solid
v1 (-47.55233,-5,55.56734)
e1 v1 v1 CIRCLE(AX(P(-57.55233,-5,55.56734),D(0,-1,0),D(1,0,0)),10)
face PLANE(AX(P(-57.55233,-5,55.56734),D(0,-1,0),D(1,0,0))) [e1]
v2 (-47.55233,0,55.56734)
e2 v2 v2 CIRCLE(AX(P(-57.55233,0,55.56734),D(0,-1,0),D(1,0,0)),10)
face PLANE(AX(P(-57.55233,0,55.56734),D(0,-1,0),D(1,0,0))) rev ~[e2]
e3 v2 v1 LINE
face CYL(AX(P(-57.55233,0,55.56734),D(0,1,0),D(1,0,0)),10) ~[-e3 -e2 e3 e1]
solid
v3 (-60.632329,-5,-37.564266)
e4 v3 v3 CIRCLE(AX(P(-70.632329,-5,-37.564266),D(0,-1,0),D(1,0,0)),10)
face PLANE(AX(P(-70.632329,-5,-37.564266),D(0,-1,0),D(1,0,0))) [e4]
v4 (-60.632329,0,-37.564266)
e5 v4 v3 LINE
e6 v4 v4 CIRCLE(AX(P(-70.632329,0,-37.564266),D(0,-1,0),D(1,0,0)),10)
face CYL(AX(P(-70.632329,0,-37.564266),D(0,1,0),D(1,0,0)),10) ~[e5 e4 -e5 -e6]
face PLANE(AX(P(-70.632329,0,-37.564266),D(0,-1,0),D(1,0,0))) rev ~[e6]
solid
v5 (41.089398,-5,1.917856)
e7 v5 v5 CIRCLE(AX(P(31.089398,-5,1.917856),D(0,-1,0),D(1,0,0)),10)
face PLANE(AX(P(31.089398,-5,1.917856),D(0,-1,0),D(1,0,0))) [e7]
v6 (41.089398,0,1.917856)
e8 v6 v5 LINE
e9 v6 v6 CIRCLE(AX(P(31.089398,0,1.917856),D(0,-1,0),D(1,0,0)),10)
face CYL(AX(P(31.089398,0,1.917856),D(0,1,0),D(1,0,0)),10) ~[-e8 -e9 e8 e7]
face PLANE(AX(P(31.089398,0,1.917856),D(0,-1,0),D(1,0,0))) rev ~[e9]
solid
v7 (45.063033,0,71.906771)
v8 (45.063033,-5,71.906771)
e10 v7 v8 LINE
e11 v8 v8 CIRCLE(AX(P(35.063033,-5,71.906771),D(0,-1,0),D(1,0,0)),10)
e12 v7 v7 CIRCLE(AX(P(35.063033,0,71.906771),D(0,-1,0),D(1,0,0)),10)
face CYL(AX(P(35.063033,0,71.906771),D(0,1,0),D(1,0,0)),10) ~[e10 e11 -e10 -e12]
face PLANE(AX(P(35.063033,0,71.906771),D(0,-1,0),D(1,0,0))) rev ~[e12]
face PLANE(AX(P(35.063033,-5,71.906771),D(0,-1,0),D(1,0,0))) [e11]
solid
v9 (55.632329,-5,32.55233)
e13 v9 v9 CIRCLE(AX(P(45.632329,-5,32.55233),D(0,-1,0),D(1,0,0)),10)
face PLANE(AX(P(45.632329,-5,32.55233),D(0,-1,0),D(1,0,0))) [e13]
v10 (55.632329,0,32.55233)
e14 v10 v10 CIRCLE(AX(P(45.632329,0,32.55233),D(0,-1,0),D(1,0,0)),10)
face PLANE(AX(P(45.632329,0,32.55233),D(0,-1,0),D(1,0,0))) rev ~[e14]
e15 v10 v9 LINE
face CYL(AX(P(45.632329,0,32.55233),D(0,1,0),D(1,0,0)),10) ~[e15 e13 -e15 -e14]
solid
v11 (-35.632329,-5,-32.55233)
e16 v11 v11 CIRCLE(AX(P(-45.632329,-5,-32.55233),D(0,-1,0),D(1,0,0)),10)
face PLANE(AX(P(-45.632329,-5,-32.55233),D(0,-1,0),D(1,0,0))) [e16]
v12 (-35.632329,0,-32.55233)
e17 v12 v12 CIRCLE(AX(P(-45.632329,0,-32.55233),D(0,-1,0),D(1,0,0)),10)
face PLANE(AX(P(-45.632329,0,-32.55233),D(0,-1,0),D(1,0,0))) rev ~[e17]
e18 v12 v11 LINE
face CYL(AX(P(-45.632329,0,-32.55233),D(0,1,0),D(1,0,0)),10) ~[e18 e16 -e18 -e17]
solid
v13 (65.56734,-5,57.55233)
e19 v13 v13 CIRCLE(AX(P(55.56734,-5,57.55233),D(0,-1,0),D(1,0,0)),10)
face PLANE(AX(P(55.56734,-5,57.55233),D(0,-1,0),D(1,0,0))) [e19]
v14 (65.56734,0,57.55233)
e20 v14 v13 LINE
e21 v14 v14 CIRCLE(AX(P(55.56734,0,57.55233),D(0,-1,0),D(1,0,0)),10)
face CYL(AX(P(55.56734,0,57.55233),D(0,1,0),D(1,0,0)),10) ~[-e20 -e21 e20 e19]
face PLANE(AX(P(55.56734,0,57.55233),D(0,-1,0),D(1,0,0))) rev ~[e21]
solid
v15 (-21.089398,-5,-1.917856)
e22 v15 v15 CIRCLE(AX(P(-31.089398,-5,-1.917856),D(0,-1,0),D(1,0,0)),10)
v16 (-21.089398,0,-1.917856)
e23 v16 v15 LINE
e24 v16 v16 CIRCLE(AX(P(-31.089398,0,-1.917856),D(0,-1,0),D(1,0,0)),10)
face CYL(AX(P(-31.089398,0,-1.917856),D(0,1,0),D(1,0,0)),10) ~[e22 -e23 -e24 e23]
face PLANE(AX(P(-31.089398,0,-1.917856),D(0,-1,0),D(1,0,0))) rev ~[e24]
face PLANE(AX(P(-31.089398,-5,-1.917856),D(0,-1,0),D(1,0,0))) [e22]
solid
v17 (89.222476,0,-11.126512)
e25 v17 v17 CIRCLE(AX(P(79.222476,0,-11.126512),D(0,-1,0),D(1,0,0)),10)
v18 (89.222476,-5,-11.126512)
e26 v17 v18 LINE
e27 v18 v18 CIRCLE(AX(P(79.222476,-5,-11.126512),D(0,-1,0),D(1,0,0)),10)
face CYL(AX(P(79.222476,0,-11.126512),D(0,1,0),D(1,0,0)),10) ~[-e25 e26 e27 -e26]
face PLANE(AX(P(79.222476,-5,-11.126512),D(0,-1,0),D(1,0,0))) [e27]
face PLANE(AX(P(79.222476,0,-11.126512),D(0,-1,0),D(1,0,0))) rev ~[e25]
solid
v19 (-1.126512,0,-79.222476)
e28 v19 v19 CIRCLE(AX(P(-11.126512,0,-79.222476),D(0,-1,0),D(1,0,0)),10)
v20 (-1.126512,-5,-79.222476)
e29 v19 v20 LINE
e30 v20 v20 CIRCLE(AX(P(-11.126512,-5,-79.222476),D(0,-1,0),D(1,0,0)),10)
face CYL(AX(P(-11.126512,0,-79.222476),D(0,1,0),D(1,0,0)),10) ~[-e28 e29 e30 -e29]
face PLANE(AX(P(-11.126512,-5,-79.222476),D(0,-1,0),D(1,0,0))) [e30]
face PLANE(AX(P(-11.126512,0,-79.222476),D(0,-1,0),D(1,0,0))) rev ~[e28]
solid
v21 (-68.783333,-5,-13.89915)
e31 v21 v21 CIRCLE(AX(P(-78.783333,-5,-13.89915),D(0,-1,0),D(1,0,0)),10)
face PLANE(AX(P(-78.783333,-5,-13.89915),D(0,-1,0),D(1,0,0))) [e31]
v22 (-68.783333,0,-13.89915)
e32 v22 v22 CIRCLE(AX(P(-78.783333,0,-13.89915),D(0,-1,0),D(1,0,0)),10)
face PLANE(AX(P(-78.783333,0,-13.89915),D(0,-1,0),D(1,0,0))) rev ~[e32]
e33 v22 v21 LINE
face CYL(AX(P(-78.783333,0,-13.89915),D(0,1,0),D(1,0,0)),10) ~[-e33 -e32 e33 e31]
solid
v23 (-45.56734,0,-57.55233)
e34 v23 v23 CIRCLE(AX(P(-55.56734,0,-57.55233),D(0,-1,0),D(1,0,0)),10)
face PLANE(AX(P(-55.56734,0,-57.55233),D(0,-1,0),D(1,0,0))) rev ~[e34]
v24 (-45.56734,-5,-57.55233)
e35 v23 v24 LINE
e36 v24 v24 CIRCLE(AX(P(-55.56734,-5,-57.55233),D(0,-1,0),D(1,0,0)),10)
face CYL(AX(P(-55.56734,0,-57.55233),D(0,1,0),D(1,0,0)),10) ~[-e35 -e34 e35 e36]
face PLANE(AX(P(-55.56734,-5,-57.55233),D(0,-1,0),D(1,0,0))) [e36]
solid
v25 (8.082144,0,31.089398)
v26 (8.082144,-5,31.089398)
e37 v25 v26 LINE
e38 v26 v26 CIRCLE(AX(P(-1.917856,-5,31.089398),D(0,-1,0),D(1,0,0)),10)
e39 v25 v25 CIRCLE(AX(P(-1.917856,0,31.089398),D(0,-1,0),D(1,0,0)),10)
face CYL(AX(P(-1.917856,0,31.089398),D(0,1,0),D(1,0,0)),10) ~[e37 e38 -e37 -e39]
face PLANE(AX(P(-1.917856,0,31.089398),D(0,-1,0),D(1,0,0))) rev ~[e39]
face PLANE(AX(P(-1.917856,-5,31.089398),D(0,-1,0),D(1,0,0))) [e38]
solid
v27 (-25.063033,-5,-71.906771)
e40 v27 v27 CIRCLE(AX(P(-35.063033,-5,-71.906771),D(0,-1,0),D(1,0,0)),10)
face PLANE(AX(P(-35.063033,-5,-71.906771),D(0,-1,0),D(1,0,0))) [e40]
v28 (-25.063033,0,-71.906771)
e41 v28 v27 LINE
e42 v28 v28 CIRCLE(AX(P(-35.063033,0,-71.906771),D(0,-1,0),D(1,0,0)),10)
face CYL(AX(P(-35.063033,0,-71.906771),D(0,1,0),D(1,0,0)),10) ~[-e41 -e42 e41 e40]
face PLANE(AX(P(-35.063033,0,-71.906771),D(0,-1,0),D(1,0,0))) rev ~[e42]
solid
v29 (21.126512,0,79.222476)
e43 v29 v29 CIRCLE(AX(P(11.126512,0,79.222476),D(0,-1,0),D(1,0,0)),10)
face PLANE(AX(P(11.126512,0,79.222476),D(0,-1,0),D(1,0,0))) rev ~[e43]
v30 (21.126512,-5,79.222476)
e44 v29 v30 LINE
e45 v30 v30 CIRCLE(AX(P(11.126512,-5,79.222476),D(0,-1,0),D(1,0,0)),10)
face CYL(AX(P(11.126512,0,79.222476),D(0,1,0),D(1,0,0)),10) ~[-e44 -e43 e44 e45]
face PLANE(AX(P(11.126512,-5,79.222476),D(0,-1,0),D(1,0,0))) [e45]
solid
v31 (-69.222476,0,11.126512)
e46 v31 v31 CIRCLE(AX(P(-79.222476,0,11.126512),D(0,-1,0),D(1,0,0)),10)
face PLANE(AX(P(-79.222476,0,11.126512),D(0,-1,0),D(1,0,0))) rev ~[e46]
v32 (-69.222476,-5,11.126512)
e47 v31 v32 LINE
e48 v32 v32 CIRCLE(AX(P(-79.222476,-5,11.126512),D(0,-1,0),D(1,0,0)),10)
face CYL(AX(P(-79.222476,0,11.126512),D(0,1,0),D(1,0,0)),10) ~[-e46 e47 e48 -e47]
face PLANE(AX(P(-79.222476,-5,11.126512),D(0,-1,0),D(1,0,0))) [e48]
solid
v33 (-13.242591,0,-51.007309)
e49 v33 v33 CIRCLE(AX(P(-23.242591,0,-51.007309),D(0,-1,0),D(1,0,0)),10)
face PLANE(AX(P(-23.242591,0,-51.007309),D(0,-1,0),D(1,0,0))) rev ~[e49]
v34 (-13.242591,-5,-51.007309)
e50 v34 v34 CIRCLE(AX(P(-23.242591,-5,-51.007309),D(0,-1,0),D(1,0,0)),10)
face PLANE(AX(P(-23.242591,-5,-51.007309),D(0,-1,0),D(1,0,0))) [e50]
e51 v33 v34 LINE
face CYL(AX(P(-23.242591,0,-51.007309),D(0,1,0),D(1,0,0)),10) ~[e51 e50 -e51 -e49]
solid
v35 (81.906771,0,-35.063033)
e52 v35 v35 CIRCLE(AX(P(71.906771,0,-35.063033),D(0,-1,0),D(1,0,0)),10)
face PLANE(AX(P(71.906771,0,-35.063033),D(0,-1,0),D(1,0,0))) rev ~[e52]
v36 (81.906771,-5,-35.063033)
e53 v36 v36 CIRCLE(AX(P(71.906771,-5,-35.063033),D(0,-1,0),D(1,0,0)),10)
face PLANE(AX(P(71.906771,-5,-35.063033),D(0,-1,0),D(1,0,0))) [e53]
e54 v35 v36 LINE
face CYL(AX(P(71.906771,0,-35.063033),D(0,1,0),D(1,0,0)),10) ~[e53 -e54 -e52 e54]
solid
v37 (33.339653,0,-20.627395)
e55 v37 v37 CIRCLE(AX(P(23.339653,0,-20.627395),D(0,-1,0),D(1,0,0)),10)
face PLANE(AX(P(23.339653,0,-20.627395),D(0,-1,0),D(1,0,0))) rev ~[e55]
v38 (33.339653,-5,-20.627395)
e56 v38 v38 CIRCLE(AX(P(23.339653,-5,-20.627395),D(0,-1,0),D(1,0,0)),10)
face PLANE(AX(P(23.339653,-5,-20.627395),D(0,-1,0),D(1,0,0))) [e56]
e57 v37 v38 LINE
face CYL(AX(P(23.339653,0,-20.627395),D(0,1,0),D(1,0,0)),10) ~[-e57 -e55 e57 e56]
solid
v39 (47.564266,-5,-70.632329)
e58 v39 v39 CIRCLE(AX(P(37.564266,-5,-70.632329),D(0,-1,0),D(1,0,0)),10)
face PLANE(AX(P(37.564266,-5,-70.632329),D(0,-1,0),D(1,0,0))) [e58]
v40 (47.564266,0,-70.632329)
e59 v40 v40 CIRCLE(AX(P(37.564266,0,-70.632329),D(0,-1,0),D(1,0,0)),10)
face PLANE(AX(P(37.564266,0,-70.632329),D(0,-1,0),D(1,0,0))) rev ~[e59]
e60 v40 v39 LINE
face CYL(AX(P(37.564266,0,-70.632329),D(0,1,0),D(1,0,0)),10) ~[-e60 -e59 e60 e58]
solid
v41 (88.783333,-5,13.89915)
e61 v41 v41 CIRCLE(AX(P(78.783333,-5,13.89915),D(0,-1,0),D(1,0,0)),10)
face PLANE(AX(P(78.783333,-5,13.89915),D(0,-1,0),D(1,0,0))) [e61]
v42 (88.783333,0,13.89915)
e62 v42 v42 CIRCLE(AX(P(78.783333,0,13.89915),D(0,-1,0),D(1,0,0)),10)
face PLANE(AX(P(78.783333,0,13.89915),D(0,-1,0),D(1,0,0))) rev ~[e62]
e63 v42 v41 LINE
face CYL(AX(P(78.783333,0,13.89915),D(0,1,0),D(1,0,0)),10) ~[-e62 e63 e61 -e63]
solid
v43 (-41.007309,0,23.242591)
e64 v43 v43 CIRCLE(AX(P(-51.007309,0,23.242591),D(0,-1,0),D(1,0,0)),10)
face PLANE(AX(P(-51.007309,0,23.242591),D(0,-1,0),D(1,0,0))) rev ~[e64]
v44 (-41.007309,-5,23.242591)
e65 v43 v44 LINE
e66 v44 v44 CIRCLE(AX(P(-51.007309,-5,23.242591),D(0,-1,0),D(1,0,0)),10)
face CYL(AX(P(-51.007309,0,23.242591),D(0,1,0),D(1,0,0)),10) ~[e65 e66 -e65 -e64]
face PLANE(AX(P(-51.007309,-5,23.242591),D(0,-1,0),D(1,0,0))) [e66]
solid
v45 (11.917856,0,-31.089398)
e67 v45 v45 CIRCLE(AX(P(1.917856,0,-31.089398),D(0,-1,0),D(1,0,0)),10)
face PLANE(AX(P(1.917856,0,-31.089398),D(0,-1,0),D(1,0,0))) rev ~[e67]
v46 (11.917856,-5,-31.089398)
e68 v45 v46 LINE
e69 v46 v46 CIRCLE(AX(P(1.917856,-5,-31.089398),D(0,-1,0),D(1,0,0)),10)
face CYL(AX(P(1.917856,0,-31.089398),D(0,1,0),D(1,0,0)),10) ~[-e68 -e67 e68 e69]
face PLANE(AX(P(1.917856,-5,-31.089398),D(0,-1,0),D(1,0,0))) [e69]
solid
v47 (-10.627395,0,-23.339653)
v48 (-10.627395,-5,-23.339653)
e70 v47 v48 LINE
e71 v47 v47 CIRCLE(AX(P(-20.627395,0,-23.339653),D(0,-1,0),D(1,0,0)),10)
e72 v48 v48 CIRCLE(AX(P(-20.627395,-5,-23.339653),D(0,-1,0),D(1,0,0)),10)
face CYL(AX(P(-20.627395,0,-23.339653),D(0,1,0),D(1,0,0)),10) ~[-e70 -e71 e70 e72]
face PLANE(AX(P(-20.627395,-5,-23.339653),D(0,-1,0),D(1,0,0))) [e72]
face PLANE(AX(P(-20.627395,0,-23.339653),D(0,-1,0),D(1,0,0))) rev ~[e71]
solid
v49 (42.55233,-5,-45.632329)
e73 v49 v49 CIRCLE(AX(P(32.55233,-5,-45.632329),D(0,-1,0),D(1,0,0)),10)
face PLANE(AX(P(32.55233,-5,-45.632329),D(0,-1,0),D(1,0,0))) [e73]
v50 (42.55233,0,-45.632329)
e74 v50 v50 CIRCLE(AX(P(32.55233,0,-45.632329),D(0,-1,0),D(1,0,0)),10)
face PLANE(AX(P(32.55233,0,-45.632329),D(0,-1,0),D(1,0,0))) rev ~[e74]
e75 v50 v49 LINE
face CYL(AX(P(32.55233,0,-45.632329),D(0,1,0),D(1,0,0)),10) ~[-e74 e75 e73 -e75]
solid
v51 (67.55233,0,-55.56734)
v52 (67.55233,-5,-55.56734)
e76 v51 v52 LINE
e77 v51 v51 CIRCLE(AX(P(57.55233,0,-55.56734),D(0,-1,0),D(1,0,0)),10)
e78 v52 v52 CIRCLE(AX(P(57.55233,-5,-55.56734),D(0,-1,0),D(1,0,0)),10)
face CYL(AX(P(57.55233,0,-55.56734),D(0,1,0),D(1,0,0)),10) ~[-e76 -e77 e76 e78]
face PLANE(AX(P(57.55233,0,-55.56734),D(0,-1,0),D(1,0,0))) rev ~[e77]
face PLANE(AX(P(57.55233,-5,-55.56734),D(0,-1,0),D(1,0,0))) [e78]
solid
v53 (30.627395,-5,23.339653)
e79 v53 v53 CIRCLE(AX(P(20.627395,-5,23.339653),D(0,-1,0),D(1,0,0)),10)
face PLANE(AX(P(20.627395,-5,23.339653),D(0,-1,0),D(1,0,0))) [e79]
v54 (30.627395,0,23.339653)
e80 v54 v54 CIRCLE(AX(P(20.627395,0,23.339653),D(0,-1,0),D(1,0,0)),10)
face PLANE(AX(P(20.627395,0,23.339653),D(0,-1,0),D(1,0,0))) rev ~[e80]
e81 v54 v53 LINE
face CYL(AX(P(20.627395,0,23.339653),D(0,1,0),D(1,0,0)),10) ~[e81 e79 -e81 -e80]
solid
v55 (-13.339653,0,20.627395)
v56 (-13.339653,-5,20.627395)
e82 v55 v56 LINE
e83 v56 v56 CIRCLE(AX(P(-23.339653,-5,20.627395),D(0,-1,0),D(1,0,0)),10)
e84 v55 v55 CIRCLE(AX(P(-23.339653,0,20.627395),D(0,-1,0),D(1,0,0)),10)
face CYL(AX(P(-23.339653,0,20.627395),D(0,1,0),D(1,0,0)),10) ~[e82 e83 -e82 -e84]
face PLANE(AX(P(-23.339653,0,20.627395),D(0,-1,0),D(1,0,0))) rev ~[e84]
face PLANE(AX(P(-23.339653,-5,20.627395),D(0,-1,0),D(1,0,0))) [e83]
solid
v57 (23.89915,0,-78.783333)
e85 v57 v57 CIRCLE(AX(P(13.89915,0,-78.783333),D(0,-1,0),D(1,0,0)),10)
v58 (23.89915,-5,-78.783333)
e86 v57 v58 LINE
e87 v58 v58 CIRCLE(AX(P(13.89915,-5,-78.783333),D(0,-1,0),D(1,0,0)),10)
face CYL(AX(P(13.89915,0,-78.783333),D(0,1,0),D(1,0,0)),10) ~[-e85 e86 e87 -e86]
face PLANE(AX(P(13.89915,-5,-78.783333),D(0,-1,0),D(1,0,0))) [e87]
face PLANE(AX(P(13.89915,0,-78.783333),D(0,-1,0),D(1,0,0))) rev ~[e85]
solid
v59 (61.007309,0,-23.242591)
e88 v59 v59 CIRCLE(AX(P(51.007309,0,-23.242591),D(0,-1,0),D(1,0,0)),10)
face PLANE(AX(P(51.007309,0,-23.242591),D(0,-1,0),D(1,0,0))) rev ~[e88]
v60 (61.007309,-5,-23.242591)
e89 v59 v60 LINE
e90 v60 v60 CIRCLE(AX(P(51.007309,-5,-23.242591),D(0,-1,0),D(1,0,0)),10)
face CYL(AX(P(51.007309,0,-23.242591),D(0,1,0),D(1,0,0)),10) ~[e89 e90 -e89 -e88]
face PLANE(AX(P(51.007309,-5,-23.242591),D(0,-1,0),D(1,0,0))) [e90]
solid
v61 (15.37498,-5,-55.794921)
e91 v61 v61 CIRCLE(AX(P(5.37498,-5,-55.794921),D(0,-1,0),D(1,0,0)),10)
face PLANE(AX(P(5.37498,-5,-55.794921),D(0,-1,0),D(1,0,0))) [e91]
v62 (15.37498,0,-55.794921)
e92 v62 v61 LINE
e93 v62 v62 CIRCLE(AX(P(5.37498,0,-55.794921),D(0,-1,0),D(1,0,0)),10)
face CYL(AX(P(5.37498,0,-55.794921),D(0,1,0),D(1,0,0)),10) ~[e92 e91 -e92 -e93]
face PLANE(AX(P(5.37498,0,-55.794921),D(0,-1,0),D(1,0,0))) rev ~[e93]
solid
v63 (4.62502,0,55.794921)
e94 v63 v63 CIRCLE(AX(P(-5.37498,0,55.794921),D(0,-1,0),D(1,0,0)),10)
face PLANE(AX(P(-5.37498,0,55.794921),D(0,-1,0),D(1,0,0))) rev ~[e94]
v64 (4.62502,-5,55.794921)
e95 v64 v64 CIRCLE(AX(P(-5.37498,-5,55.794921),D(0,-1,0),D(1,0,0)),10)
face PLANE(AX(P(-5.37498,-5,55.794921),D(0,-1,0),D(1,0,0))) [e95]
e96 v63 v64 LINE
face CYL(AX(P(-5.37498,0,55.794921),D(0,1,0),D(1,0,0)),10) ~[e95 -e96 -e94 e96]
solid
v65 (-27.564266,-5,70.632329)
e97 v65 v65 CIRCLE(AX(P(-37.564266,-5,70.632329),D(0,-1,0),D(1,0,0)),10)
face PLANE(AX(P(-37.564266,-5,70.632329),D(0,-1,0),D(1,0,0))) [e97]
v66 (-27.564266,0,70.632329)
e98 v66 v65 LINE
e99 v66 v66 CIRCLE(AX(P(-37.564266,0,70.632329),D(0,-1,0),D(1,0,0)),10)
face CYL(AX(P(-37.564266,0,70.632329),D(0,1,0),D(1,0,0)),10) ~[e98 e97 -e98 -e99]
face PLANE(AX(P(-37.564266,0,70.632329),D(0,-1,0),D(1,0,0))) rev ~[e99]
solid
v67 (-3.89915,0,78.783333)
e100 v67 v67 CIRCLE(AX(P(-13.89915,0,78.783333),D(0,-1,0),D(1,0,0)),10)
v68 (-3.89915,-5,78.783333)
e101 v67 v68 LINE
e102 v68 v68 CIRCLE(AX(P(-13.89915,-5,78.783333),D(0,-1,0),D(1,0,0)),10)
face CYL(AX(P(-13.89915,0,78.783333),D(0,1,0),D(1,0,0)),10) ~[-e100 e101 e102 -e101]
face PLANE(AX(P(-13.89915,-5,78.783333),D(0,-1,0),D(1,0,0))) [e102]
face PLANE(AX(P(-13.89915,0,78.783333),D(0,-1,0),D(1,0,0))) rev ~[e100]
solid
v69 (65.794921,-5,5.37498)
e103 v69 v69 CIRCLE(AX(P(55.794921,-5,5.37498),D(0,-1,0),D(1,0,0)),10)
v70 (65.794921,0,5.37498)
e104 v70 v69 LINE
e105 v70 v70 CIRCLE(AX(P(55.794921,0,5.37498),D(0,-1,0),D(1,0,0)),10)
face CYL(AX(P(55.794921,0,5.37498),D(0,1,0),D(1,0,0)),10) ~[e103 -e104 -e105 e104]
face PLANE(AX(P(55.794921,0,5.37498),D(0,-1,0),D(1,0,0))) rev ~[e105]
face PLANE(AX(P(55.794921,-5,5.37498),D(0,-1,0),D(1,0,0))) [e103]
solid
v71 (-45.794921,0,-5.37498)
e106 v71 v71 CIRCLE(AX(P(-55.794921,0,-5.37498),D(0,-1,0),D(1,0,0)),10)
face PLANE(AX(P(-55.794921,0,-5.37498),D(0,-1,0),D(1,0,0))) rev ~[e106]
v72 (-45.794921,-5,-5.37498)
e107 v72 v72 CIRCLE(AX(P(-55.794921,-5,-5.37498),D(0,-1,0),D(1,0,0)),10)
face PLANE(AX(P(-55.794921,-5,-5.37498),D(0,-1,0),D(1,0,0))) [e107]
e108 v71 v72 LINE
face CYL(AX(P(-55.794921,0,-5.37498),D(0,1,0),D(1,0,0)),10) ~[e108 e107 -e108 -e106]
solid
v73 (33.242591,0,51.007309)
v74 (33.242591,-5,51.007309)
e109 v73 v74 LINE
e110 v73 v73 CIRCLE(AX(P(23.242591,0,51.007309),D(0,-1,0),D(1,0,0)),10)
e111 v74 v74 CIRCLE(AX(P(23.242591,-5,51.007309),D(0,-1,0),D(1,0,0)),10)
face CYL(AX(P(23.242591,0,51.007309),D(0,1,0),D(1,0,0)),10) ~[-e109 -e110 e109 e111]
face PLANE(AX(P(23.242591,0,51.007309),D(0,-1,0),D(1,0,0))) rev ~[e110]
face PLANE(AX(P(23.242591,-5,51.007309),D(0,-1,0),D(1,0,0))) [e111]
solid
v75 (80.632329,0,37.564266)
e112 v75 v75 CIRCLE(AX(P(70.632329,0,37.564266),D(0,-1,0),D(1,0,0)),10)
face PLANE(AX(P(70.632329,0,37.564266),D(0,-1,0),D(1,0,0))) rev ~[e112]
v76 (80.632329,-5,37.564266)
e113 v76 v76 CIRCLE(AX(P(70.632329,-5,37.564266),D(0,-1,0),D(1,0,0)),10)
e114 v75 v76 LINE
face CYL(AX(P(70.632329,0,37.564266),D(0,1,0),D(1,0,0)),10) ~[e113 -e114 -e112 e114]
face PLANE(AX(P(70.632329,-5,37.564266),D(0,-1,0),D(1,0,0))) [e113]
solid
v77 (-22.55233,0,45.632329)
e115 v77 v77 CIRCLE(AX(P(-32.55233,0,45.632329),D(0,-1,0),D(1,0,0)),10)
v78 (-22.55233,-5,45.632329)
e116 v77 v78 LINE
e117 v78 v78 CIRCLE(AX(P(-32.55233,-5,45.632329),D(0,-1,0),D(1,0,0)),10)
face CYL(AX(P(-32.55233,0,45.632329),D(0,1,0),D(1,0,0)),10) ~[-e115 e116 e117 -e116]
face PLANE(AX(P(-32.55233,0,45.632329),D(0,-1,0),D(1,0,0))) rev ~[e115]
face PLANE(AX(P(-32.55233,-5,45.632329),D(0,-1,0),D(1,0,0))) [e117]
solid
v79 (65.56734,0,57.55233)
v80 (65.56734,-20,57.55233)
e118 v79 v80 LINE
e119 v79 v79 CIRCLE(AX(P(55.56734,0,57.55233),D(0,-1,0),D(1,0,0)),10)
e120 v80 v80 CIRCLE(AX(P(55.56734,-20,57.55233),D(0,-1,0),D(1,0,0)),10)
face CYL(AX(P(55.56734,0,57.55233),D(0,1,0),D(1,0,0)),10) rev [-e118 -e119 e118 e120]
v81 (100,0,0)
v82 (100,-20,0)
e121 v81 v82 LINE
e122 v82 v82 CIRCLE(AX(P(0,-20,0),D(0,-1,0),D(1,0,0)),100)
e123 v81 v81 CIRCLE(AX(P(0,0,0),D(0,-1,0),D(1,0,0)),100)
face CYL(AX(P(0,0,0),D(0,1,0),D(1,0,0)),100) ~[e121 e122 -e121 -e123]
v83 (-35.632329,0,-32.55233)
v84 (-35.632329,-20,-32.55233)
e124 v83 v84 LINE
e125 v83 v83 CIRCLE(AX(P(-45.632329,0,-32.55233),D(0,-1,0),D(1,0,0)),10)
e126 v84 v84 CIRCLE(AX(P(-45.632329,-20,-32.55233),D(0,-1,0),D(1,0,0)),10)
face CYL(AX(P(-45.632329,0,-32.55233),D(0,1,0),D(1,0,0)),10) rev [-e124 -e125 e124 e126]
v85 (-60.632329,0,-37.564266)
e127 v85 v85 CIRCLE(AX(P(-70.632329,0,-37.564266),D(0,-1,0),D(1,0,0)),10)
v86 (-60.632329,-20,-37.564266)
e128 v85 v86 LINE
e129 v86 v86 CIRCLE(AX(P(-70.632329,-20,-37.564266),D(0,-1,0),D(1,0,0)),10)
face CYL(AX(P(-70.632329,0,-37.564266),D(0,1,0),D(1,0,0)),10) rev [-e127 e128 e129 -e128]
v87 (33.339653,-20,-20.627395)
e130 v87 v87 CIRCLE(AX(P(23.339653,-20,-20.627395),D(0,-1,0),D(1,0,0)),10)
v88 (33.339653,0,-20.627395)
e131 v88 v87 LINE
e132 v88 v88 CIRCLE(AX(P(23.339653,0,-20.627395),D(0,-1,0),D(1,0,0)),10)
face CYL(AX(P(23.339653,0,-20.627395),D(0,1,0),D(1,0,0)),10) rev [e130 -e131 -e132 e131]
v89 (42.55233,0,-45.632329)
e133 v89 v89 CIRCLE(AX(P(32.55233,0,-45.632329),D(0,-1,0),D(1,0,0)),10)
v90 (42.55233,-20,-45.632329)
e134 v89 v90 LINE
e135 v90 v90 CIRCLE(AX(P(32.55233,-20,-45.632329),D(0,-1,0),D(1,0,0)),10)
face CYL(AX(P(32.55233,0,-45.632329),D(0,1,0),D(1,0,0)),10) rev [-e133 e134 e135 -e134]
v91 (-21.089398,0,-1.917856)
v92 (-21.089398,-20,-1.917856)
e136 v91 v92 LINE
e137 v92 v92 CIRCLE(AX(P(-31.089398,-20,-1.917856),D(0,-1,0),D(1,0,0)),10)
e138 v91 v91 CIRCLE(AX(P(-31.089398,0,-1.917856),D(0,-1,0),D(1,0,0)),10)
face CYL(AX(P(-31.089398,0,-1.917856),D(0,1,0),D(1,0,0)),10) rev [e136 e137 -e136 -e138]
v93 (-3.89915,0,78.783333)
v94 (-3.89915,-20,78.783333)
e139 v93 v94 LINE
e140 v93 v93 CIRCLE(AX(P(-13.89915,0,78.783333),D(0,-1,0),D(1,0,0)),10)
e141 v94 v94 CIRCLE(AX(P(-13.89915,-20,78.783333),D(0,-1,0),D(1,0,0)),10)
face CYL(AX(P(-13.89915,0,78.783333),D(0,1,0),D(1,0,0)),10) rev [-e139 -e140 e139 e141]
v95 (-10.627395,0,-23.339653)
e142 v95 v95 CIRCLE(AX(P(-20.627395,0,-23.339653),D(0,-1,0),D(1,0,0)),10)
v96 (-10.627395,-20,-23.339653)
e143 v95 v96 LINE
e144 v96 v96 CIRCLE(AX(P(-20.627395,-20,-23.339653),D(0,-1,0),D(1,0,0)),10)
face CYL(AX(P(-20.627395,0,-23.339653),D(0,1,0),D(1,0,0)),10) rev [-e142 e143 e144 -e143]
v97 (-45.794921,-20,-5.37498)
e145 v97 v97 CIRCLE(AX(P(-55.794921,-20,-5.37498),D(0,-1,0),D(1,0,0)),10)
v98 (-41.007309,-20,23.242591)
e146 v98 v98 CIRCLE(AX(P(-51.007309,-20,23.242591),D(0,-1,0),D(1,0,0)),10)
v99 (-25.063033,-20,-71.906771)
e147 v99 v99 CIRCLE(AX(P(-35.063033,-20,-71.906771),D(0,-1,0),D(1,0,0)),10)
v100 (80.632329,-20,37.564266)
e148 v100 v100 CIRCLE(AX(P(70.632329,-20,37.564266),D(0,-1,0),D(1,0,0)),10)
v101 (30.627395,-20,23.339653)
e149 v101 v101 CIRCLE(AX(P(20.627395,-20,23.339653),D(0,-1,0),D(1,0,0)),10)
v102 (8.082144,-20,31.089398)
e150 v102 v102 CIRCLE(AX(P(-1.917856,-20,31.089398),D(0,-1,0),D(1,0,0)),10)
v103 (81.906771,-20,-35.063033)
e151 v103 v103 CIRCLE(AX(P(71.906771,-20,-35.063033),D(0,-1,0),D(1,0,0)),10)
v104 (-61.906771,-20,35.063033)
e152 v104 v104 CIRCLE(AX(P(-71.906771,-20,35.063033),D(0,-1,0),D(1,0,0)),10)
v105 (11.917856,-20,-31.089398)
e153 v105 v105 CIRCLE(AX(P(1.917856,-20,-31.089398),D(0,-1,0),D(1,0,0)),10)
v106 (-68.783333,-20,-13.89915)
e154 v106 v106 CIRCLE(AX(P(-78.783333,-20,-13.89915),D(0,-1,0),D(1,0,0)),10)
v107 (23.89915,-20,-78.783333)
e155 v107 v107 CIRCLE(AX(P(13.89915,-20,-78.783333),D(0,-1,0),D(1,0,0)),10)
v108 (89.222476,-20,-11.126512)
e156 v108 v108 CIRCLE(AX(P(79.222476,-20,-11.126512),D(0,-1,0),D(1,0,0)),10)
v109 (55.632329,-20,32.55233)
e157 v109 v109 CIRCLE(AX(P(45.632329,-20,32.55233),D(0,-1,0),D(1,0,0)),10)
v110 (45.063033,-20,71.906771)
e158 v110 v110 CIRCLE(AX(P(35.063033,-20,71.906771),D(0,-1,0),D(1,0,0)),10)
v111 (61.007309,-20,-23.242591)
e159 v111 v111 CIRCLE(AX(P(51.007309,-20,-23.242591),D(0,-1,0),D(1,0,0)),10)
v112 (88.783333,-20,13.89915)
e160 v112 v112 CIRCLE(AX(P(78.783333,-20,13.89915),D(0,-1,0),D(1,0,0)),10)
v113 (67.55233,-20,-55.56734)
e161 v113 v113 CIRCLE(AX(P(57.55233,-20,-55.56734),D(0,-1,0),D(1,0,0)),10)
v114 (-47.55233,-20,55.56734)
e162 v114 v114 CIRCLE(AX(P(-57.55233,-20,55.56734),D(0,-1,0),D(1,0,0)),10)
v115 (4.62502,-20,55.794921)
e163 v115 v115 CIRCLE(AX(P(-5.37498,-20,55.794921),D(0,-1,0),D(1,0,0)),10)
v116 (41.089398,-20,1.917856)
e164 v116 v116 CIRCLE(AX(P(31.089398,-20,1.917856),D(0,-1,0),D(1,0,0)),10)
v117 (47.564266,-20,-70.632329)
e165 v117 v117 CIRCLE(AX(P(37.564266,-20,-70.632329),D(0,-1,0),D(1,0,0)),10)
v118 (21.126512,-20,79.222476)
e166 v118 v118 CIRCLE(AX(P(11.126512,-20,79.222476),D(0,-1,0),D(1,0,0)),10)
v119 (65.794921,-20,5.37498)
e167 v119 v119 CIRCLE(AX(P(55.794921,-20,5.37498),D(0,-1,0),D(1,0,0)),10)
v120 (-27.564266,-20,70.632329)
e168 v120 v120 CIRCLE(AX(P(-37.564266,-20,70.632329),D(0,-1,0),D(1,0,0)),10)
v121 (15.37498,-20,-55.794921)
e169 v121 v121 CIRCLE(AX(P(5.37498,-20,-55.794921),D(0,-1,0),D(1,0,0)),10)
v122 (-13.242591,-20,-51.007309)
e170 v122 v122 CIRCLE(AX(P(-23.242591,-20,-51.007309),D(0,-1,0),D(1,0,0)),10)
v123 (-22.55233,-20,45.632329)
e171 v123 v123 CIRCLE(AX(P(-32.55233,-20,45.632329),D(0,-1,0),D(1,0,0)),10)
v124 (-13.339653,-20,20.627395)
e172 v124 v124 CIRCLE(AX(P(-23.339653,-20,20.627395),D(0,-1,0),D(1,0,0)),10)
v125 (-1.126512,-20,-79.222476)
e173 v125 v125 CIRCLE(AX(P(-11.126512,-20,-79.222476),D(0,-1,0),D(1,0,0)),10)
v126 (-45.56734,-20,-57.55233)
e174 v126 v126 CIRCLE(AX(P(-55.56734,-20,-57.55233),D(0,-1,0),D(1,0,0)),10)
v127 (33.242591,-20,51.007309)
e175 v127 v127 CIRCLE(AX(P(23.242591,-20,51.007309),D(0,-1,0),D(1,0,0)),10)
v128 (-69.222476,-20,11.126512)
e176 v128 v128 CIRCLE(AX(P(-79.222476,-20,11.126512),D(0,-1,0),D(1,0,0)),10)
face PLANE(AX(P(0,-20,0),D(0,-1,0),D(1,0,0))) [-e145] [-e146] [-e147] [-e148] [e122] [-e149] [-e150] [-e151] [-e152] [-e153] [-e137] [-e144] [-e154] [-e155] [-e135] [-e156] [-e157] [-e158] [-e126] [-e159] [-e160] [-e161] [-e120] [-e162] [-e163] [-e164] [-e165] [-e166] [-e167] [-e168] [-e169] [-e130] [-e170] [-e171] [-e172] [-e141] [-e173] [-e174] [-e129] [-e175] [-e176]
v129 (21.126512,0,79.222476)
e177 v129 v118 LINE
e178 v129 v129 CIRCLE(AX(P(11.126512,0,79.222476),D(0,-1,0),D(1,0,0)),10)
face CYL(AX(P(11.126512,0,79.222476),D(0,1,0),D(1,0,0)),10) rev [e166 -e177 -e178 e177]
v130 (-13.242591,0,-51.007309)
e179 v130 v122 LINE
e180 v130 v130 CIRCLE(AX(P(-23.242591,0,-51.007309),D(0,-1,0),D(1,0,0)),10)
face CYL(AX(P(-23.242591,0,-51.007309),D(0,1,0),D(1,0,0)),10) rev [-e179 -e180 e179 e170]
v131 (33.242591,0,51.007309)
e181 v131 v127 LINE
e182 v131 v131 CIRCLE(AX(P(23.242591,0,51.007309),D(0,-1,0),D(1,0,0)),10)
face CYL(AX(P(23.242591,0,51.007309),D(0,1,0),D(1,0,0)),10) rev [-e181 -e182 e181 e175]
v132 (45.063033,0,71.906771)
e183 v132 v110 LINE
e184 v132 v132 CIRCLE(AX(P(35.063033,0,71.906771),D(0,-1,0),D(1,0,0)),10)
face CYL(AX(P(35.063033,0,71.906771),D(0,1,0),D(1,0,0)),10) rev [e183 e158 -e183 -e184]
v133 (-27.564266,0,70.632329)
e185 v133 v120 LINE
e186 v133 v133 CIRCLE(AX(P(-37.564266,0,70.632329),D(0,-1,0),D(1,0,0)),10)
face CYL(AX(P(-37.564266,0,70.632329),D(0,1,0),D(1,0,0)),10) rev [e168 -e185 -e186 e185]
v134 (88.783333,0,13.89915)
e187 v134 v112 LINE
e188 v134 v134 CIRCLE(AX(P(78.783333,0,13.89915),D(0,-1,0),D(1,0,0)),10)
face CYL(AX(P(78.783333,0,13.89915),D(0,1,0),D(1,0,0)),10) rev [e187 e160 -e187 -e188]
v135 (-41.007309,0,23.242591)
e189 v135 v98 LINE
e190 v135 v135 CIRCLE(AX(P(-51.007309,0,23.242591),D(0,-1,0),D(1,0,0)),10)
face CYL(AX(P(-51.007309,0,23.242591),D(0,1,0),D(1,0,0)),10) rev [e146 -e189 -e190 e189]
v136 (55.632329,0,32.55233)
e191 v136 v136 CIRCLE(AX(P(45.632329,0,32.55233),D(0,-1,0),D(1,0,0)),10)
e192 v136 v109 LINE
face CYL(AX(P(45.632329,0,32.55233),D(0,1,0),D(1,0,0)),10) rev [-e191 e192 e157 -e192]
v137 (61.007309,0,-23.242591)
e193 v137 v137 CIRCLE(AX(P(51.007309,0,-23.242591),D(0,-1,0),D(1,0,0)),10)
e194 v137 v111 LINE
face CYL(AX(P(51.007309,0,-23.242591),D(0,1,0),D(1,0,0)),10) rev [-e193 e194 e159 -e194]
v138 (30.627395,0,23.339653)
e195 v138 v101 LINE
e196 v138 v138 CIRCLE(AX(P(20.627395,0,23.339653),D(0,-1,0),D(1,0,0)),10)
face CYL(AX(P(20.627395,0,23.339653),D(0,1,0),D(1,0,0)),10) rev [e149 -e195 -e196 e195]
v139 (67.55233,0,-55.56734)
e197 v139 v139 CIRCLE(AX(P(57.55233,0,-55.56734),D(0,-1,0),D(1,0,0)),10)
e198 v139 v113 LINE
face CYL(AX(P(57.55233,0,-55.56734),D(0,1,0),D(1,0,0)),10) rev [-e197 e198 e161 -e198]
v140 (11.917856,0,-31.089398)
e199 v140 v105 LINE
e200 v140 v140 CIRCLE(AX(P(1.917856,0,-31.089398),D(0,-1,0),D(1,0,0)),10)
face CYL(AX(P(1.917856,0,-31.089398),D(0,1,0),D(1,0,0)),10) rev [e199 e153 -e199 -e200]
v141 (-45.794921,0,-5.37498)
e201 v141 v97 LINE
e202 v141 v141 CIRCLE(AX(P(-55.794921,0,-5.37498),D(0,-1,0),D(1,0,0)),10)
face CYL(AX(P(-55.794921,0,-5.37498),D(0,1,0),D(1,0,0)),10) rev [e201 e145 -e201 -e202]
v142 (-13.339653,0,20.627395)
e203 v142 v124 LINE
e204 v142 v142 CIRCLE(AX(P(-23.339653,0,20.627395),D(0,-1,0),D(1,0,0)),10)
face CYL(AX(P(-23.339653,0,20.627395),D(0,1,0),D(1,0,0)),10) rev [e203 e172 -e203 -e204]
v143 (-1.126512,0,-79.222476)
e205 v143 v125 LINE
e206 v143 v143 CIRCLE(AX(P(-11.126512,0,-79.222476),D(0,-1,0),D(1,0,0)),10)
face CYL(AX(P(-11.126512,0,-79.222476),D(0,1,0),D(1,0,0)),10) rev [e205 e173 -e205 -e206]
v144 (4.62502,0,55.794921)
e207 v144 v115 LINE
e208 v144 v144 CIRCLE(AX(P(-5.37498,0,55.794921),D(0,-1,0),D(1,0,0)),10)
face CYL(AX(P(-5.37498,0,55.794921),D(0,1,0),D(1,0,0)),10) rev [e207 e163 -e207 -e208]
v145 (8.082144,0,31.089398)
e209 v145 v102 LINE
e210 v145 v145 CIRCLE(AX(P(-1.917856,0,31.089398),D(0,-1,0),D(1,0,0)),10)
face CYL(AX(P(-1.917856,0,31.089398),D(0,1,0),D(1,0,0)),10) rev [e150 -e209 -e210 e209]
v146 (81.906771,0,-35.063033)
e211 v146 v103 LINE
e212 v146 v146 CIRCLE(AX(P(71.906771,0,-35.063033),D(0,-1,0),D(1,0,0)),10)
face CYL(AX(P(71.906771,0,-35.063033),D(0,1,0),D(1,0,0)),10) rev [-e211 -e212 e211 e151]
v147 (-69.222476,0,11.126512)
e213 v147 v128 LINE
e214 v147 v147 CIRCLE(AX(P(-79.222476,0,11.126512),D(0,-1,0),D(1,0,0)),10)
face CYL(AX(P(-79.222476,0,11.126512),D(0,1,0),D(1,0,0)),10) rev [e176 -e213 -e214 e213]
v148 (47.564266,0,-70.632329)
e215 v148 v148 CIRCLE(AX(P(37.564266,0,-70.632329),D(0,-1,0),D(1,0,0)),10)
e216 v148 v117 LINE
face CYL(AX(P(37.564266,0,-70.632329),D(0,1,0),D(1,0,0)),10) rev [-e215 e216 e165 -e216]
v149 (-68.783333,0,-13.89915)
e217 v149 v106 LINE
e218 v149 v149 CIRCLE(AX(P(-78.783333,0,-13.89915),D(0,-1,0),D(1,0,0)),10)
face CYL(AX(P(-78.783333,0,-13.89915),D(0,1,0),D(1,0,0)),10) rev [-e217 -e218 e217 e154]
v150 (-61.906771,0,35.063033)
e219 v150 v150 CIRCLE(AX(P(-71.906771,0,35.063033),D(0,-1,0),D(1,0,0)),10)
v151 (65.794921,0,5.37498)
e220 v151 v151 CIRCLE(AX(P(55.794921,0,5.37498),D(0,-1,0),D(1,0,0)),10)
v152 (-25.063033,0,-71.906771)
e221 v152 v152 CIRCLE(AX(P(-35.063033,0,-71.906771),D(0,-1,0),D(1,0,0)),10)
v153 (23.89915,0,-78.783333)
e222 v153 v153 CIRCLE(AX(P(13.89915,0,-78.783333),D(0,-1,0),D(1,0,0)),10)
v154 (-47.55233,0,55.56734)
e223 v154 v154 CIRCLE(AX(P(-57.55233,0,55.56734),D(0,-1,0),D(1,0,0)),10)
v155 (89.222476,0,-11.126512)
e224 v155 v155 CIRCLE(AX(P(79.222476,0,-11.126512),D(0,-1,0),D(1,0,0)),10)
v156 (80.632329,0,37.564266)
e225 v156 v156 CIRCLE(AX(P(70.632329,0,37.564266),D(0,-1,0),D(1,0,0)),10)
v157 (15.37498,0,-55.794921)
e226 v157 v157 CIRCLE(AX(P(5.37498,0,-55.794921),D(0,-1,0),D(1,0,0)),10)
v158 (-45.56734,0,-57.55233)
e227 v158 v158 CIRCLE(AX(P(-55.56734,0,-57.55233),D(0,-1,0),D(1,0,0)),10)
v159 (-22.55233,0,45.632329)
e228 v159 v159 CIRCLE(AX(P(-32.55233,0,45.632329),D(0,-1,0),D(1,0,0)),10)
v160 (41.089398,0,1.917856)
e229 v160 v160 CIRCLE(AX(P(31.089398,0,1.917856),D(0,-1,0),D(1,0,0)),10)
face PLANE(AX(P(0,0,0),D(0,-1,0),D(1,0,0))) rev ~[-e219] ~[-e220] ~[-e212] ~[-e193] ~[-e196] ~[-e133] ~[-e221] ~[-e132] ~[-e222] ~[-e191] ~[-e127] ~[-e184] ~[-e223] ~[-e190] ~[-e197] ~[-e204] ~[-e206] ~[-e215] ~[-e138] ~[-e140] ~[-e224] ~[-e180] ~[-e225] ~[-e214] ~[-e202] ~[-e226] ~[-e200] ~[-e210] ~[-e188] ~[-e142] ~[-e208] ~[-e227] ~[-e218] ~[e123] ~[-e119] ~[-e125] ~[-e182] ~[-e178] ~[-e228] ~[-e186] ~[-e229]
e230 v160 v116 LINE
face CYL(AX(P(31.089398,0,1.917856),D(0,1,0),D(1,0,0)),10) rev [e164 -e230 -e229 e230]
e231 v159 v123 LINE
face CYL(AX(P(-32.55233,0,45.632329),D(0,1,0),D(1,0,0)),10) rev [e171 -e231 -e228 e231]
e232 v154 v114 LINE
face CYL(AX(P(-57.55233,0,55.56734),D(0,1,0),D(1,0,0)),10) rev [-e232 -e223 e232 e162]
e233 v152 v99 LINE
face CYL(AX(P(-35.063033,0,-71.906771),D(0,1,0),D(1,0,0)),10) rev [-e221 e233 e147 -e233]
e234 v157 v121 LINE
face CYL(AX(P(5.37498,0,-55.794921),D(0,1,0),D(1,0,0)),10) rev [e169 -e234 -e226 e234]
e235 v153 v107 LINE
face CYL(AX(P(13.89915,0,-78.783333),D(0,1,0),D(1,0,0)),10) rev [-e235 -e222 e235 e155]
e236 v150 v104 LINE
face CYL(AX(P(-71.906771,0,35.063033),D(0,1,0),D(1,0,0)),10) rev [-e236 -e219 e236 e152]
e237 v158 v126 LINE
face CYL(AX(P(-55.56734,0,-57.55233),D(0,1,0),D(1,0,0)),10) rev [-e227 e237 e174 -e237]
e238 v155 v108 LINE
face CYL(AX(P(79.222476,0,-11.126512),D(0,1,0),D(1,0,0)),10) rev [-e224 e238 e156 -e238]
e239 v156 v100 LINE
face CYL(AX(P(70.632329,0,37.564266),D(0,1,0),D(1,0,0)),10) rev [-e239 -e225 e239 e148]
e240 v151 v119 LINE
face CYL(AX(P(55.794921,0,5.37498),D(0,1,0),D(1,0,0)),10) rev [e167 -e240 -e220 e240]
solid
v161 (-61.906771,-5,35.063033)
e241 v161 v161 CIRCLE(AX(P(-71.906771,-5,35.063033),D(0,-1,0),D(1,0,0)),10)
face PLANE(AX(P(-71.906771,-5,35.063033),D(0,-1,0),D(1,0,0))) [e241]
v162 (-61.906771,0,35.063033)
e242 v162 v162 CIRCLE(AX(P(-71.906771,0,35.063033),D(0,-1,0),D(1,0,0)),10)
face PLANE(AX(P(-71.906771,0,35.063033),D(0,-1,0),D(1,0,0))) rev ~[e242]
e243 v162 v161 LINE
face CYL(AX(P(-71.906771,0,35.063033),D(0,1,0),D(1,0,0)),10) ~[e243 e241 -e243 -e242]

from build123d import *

# Parameters (mm, degrees)
F0_R     = 10
F1_DEPTH = 5
F0_R_2   = 100
F2_DEPTH = 20


with BuildPart() as f1:
    # F0 (on Front) → F1 (new body)
    with BuildSketch(Plane.XZ):
        with Locations((-57.55233, 55.56734)):
            Circle(F0_R)
        with Locations((-1.917856, 31.089398)):
            Circle(F0_R)
        with Locations((-13.89915, 78.783333)):
            Circle(F0_R)
        with Locations((23.242591, 51.007309)):
            Circle(F0_R)
        with Locations((55.794921, 5.37498)):
            Circle(F0_R)
        with Locations((1.917856, -31.089398)):
            Circle(F0_R)
        with Locations((55.56734, 57.55233)):
            Circle(F0_R)
        with Locations((11.126512, 79.222476)):
            Circle(F0_R)
        with Locations((-23.339653, 20.627395)):
            Circle(F0_R)
        with Locations((51.007309, -23.242591)):
            Circle(F0_R)
        with Locations((-55.794921, -5.37498)):
            Circle(F0_R)
        with Locations((-31.089398, -1.917856)):
            Circle(F0_R)
        with Locations((-51.007309, 23.242591)):
            Circle(F0_R)
        with Locations((-78.783333, -13.89915)):
            Circle(F0_R)
        with Locations((20.627395, 23.339653)):
            Circle(F0_R)
        with Locations((-79.222476, 11.126512)):
            Circle(F0_R)
        with Locations((37.564266, -70.632329)):
            Circle(F0_R)
        with Locations((-32.55233, 45.632329)):
            Circle(F0_R)
        with Locations((32.55233, -45.632329)):
            Circle(F0_R)
        with Locations((-5.37498, 55.794921)):
            Circle(F0_R)
        with Locations((-23.242591, -51.007309)):
            Circle(F0_R)
        with Locations((5.37498, -55.794921)):
            Circle(F0_R)
        with Locations((70.632329, 37.564266)):
            Circle(F0_R)
        with Locations((13.89915, -78.783333)):
            Circle(F0_R)
        with Locations((-35.063033, -71.906771)):
            Circle(F0_R)
        with Locations((78.783333, 13.89915)):
            Circle(F0_R)
        with Locations((57.55233, -55.56734)):
            Circle(F0_R)
        with Locations((-45.632329, -32.55233)):
            Circle(F0_R)
        with Locations((79.222476, -11.126512)):
            Circle(F0_R)
        with Locations((-20.627395, -23.339653)):
            Circle(F0_R)
        with Locations((-37.564266, 70.632329)):
            Circle(F0_R)
        with Locations((71.906771, -35.063033)):
            Circle(F0_R)
        with Locations((-11.126512, -79.222476)):
            Circle(F0_R)
        with Locations((35.063033, 71.906771)):
            Circle(F0_R)
        with Locations((-70.632329, -37.564266)):
            Circle(F0_R)
        with Locations((31.089398, 1.917856)):
            Circle(F0_R)
        with Locations((45.632329, 32.55233)):
            Circle(F0_R)
        with Locations((23.339653, -20.627395)):
            Circle(F0_R)
        with Locations((-55.56734, -57.55233)):
            Circle(F0_R)
        with Locations((-71.906771, 35.063033)):
            Circle(F0_R)
    extrude(amount=F1_DEPTH)


with BuildPart() as f2:
    # F0 (on Front) → F2 (new body)
    with BuildSketch(Plane.XZ):
        Circle(F0_R_2)
        with Locations((-55.56734, -57.55233)):
            Circle(F0_R, mode=Mode.SUBTRACT)
        with Locations((-11.126512, -79.222476)):
            Circle(F0_R, mode=Mode.SUBTRACT)
        with Locations((-35.063033, -71.906771)):
            Circle(F0_R, mode=Mode.SUBTRACT)
        with Locations((-23.242591, -51.007309)):
            Circle(F0_R, mode=Mode.SUBTRACT)
        with Locations((-70.632329, -37.564266)):
            Circle(F0_R, mode=Mode.SUBTRACT)
        with Locations((-78.783333, -13.89915)):
            Circle(F0_R, mode=Mode.SUBTRACT)
        with Locations((-55.794921, -5.37498)):
            Circle(F0_R, mode=Mode.SUBTRACT)
        with Locations((-45.632329, -32.55233)):
            Circle(F0_R, mode=Mode.SUBTRACT)
        with Locations((-31.089398, -1.917856)):
            Circle(F0_R, mode=Mode.SUBTRACT)
        with Locations((-20.627395, -23.339653)):
            Circle(F0_R, mode=Mode.SUBTRACT)
        with Locations((13.89915, -78.783333)):
            Circle(F0_R, mode=Mode.SUBTRACT)
        with Locations((5.37498, -55.794921)):
            Circle(F0_R, mode=Mode.SUBTRACT)
        with Locations((37.564266, -70.632329)):
            Circle(F0_R, mode=Mode.SUBTRACT)
        with Locations((57.55233, -55.56734)):
            Circle(F0_R, mode=Mode.SUBTRACT)
        with Locations((1.917856, -31.089398)):
            Circle(F0_R, mode=Mode.SUBTRACT)
        with Locations((32.55233, -45.632329)):
            Circle(F0_R, mode=Mode.SUBTRACT)
        with Locations((23.339653, -20.627395)):
            Circle(F0_R, mode=Mode.SUBTRACT)
        with Locations((71.906771, -35.063033)):
            Circle(F0_R, mode=Mode.SUBTRACT)
        with Locations((51.007309, -23.242591)):
            Circle(F0_R, mode=Mode.SUBTRACT)
        with Locations((79.222476, -11.126512)):
            Circle(F0_R, mode=Mode.SUBTRACT)
        with Locations((-79.222476, 11.126512)):
            Circle(F0_R, mode=Mode.SUBTRACT)
        with Locations((-51.007309, 23.242591)):
            Circle(F0_R, mode=Mode.SUBTRACT)
        with Locations((-71.906771, 35.063033)):
            Circle(F0_R, mode=Mode.SUBTRACT)
        with Locations((-23.339653, 20.627395)):
            Circle(F0_R, mode=Mode.SUBTRACT)
        with Locations((-32.55233, 45.632329)):
            Circle(F0_R, mode=Mode.SUBTRACT)
        with Locations((-1.917856, 31.089398)):
            Circle(F0_R, mode=Mode.SUBTRACT)
        with Locations((-57.55233, 55.56734)):
            Circle(F0_R, mode=Mode.SUBTRACT)
        with Locations((-37.564266, 70.632329)):
            Circle(F0_R, mode=Mode.SUBTRACT)
        with Locations((-5.37498, 55.794921)):
            Circle(F0_R, mode=Mode.SUBTRACT)
        with Locations((-13.89915, 78.783333)):
            Circle(F0_R, mode=Mode.SUBTRACT)
        with Locations((20.627395, 23.339653)):
            Circle(F0_R, mode=Mode.SUBTRACT)
        with Locations((31.089398, 1.917856)):
            Circle(F0_R, mode=Mode.SUBTRACT)
        with Locations((45.632329, 32.55233)):
            Circle(F0_R, mode=Mode.SUBTRACT)
        with Locations((55.794921, 5.37498)):
            Circle(F0_R, mode=Mode.SUBTRACT)
        with Locations((78.783333, 13.89915)):
            Circle(F0_R, mode=Mode.SUBTRACT)
        with Locations((70.632329, 37.564266)):
            Circle(F0_R, mode=Mode.SUBTRACT)
        with Locations((23.242591, 51.007309)):
            Circle(F0_R, mode=Mode.SUBTRACT)
        with Locations((35.063033, 71.906771)):
            Circle(F0_R, mode=Mode.SUBTRACT)
        with Locations((11.126512, 79.222476)):
            Circle(F0_R, mode=Mode.SUBTRACT)
        with Locations((55.56734, 57.55233)):
            Circle(F0_R, mode=Mode.SUBTRACT)
    extrude(amount=F2_DEPTH)


solid = Compound([f1.part, f2.part])
